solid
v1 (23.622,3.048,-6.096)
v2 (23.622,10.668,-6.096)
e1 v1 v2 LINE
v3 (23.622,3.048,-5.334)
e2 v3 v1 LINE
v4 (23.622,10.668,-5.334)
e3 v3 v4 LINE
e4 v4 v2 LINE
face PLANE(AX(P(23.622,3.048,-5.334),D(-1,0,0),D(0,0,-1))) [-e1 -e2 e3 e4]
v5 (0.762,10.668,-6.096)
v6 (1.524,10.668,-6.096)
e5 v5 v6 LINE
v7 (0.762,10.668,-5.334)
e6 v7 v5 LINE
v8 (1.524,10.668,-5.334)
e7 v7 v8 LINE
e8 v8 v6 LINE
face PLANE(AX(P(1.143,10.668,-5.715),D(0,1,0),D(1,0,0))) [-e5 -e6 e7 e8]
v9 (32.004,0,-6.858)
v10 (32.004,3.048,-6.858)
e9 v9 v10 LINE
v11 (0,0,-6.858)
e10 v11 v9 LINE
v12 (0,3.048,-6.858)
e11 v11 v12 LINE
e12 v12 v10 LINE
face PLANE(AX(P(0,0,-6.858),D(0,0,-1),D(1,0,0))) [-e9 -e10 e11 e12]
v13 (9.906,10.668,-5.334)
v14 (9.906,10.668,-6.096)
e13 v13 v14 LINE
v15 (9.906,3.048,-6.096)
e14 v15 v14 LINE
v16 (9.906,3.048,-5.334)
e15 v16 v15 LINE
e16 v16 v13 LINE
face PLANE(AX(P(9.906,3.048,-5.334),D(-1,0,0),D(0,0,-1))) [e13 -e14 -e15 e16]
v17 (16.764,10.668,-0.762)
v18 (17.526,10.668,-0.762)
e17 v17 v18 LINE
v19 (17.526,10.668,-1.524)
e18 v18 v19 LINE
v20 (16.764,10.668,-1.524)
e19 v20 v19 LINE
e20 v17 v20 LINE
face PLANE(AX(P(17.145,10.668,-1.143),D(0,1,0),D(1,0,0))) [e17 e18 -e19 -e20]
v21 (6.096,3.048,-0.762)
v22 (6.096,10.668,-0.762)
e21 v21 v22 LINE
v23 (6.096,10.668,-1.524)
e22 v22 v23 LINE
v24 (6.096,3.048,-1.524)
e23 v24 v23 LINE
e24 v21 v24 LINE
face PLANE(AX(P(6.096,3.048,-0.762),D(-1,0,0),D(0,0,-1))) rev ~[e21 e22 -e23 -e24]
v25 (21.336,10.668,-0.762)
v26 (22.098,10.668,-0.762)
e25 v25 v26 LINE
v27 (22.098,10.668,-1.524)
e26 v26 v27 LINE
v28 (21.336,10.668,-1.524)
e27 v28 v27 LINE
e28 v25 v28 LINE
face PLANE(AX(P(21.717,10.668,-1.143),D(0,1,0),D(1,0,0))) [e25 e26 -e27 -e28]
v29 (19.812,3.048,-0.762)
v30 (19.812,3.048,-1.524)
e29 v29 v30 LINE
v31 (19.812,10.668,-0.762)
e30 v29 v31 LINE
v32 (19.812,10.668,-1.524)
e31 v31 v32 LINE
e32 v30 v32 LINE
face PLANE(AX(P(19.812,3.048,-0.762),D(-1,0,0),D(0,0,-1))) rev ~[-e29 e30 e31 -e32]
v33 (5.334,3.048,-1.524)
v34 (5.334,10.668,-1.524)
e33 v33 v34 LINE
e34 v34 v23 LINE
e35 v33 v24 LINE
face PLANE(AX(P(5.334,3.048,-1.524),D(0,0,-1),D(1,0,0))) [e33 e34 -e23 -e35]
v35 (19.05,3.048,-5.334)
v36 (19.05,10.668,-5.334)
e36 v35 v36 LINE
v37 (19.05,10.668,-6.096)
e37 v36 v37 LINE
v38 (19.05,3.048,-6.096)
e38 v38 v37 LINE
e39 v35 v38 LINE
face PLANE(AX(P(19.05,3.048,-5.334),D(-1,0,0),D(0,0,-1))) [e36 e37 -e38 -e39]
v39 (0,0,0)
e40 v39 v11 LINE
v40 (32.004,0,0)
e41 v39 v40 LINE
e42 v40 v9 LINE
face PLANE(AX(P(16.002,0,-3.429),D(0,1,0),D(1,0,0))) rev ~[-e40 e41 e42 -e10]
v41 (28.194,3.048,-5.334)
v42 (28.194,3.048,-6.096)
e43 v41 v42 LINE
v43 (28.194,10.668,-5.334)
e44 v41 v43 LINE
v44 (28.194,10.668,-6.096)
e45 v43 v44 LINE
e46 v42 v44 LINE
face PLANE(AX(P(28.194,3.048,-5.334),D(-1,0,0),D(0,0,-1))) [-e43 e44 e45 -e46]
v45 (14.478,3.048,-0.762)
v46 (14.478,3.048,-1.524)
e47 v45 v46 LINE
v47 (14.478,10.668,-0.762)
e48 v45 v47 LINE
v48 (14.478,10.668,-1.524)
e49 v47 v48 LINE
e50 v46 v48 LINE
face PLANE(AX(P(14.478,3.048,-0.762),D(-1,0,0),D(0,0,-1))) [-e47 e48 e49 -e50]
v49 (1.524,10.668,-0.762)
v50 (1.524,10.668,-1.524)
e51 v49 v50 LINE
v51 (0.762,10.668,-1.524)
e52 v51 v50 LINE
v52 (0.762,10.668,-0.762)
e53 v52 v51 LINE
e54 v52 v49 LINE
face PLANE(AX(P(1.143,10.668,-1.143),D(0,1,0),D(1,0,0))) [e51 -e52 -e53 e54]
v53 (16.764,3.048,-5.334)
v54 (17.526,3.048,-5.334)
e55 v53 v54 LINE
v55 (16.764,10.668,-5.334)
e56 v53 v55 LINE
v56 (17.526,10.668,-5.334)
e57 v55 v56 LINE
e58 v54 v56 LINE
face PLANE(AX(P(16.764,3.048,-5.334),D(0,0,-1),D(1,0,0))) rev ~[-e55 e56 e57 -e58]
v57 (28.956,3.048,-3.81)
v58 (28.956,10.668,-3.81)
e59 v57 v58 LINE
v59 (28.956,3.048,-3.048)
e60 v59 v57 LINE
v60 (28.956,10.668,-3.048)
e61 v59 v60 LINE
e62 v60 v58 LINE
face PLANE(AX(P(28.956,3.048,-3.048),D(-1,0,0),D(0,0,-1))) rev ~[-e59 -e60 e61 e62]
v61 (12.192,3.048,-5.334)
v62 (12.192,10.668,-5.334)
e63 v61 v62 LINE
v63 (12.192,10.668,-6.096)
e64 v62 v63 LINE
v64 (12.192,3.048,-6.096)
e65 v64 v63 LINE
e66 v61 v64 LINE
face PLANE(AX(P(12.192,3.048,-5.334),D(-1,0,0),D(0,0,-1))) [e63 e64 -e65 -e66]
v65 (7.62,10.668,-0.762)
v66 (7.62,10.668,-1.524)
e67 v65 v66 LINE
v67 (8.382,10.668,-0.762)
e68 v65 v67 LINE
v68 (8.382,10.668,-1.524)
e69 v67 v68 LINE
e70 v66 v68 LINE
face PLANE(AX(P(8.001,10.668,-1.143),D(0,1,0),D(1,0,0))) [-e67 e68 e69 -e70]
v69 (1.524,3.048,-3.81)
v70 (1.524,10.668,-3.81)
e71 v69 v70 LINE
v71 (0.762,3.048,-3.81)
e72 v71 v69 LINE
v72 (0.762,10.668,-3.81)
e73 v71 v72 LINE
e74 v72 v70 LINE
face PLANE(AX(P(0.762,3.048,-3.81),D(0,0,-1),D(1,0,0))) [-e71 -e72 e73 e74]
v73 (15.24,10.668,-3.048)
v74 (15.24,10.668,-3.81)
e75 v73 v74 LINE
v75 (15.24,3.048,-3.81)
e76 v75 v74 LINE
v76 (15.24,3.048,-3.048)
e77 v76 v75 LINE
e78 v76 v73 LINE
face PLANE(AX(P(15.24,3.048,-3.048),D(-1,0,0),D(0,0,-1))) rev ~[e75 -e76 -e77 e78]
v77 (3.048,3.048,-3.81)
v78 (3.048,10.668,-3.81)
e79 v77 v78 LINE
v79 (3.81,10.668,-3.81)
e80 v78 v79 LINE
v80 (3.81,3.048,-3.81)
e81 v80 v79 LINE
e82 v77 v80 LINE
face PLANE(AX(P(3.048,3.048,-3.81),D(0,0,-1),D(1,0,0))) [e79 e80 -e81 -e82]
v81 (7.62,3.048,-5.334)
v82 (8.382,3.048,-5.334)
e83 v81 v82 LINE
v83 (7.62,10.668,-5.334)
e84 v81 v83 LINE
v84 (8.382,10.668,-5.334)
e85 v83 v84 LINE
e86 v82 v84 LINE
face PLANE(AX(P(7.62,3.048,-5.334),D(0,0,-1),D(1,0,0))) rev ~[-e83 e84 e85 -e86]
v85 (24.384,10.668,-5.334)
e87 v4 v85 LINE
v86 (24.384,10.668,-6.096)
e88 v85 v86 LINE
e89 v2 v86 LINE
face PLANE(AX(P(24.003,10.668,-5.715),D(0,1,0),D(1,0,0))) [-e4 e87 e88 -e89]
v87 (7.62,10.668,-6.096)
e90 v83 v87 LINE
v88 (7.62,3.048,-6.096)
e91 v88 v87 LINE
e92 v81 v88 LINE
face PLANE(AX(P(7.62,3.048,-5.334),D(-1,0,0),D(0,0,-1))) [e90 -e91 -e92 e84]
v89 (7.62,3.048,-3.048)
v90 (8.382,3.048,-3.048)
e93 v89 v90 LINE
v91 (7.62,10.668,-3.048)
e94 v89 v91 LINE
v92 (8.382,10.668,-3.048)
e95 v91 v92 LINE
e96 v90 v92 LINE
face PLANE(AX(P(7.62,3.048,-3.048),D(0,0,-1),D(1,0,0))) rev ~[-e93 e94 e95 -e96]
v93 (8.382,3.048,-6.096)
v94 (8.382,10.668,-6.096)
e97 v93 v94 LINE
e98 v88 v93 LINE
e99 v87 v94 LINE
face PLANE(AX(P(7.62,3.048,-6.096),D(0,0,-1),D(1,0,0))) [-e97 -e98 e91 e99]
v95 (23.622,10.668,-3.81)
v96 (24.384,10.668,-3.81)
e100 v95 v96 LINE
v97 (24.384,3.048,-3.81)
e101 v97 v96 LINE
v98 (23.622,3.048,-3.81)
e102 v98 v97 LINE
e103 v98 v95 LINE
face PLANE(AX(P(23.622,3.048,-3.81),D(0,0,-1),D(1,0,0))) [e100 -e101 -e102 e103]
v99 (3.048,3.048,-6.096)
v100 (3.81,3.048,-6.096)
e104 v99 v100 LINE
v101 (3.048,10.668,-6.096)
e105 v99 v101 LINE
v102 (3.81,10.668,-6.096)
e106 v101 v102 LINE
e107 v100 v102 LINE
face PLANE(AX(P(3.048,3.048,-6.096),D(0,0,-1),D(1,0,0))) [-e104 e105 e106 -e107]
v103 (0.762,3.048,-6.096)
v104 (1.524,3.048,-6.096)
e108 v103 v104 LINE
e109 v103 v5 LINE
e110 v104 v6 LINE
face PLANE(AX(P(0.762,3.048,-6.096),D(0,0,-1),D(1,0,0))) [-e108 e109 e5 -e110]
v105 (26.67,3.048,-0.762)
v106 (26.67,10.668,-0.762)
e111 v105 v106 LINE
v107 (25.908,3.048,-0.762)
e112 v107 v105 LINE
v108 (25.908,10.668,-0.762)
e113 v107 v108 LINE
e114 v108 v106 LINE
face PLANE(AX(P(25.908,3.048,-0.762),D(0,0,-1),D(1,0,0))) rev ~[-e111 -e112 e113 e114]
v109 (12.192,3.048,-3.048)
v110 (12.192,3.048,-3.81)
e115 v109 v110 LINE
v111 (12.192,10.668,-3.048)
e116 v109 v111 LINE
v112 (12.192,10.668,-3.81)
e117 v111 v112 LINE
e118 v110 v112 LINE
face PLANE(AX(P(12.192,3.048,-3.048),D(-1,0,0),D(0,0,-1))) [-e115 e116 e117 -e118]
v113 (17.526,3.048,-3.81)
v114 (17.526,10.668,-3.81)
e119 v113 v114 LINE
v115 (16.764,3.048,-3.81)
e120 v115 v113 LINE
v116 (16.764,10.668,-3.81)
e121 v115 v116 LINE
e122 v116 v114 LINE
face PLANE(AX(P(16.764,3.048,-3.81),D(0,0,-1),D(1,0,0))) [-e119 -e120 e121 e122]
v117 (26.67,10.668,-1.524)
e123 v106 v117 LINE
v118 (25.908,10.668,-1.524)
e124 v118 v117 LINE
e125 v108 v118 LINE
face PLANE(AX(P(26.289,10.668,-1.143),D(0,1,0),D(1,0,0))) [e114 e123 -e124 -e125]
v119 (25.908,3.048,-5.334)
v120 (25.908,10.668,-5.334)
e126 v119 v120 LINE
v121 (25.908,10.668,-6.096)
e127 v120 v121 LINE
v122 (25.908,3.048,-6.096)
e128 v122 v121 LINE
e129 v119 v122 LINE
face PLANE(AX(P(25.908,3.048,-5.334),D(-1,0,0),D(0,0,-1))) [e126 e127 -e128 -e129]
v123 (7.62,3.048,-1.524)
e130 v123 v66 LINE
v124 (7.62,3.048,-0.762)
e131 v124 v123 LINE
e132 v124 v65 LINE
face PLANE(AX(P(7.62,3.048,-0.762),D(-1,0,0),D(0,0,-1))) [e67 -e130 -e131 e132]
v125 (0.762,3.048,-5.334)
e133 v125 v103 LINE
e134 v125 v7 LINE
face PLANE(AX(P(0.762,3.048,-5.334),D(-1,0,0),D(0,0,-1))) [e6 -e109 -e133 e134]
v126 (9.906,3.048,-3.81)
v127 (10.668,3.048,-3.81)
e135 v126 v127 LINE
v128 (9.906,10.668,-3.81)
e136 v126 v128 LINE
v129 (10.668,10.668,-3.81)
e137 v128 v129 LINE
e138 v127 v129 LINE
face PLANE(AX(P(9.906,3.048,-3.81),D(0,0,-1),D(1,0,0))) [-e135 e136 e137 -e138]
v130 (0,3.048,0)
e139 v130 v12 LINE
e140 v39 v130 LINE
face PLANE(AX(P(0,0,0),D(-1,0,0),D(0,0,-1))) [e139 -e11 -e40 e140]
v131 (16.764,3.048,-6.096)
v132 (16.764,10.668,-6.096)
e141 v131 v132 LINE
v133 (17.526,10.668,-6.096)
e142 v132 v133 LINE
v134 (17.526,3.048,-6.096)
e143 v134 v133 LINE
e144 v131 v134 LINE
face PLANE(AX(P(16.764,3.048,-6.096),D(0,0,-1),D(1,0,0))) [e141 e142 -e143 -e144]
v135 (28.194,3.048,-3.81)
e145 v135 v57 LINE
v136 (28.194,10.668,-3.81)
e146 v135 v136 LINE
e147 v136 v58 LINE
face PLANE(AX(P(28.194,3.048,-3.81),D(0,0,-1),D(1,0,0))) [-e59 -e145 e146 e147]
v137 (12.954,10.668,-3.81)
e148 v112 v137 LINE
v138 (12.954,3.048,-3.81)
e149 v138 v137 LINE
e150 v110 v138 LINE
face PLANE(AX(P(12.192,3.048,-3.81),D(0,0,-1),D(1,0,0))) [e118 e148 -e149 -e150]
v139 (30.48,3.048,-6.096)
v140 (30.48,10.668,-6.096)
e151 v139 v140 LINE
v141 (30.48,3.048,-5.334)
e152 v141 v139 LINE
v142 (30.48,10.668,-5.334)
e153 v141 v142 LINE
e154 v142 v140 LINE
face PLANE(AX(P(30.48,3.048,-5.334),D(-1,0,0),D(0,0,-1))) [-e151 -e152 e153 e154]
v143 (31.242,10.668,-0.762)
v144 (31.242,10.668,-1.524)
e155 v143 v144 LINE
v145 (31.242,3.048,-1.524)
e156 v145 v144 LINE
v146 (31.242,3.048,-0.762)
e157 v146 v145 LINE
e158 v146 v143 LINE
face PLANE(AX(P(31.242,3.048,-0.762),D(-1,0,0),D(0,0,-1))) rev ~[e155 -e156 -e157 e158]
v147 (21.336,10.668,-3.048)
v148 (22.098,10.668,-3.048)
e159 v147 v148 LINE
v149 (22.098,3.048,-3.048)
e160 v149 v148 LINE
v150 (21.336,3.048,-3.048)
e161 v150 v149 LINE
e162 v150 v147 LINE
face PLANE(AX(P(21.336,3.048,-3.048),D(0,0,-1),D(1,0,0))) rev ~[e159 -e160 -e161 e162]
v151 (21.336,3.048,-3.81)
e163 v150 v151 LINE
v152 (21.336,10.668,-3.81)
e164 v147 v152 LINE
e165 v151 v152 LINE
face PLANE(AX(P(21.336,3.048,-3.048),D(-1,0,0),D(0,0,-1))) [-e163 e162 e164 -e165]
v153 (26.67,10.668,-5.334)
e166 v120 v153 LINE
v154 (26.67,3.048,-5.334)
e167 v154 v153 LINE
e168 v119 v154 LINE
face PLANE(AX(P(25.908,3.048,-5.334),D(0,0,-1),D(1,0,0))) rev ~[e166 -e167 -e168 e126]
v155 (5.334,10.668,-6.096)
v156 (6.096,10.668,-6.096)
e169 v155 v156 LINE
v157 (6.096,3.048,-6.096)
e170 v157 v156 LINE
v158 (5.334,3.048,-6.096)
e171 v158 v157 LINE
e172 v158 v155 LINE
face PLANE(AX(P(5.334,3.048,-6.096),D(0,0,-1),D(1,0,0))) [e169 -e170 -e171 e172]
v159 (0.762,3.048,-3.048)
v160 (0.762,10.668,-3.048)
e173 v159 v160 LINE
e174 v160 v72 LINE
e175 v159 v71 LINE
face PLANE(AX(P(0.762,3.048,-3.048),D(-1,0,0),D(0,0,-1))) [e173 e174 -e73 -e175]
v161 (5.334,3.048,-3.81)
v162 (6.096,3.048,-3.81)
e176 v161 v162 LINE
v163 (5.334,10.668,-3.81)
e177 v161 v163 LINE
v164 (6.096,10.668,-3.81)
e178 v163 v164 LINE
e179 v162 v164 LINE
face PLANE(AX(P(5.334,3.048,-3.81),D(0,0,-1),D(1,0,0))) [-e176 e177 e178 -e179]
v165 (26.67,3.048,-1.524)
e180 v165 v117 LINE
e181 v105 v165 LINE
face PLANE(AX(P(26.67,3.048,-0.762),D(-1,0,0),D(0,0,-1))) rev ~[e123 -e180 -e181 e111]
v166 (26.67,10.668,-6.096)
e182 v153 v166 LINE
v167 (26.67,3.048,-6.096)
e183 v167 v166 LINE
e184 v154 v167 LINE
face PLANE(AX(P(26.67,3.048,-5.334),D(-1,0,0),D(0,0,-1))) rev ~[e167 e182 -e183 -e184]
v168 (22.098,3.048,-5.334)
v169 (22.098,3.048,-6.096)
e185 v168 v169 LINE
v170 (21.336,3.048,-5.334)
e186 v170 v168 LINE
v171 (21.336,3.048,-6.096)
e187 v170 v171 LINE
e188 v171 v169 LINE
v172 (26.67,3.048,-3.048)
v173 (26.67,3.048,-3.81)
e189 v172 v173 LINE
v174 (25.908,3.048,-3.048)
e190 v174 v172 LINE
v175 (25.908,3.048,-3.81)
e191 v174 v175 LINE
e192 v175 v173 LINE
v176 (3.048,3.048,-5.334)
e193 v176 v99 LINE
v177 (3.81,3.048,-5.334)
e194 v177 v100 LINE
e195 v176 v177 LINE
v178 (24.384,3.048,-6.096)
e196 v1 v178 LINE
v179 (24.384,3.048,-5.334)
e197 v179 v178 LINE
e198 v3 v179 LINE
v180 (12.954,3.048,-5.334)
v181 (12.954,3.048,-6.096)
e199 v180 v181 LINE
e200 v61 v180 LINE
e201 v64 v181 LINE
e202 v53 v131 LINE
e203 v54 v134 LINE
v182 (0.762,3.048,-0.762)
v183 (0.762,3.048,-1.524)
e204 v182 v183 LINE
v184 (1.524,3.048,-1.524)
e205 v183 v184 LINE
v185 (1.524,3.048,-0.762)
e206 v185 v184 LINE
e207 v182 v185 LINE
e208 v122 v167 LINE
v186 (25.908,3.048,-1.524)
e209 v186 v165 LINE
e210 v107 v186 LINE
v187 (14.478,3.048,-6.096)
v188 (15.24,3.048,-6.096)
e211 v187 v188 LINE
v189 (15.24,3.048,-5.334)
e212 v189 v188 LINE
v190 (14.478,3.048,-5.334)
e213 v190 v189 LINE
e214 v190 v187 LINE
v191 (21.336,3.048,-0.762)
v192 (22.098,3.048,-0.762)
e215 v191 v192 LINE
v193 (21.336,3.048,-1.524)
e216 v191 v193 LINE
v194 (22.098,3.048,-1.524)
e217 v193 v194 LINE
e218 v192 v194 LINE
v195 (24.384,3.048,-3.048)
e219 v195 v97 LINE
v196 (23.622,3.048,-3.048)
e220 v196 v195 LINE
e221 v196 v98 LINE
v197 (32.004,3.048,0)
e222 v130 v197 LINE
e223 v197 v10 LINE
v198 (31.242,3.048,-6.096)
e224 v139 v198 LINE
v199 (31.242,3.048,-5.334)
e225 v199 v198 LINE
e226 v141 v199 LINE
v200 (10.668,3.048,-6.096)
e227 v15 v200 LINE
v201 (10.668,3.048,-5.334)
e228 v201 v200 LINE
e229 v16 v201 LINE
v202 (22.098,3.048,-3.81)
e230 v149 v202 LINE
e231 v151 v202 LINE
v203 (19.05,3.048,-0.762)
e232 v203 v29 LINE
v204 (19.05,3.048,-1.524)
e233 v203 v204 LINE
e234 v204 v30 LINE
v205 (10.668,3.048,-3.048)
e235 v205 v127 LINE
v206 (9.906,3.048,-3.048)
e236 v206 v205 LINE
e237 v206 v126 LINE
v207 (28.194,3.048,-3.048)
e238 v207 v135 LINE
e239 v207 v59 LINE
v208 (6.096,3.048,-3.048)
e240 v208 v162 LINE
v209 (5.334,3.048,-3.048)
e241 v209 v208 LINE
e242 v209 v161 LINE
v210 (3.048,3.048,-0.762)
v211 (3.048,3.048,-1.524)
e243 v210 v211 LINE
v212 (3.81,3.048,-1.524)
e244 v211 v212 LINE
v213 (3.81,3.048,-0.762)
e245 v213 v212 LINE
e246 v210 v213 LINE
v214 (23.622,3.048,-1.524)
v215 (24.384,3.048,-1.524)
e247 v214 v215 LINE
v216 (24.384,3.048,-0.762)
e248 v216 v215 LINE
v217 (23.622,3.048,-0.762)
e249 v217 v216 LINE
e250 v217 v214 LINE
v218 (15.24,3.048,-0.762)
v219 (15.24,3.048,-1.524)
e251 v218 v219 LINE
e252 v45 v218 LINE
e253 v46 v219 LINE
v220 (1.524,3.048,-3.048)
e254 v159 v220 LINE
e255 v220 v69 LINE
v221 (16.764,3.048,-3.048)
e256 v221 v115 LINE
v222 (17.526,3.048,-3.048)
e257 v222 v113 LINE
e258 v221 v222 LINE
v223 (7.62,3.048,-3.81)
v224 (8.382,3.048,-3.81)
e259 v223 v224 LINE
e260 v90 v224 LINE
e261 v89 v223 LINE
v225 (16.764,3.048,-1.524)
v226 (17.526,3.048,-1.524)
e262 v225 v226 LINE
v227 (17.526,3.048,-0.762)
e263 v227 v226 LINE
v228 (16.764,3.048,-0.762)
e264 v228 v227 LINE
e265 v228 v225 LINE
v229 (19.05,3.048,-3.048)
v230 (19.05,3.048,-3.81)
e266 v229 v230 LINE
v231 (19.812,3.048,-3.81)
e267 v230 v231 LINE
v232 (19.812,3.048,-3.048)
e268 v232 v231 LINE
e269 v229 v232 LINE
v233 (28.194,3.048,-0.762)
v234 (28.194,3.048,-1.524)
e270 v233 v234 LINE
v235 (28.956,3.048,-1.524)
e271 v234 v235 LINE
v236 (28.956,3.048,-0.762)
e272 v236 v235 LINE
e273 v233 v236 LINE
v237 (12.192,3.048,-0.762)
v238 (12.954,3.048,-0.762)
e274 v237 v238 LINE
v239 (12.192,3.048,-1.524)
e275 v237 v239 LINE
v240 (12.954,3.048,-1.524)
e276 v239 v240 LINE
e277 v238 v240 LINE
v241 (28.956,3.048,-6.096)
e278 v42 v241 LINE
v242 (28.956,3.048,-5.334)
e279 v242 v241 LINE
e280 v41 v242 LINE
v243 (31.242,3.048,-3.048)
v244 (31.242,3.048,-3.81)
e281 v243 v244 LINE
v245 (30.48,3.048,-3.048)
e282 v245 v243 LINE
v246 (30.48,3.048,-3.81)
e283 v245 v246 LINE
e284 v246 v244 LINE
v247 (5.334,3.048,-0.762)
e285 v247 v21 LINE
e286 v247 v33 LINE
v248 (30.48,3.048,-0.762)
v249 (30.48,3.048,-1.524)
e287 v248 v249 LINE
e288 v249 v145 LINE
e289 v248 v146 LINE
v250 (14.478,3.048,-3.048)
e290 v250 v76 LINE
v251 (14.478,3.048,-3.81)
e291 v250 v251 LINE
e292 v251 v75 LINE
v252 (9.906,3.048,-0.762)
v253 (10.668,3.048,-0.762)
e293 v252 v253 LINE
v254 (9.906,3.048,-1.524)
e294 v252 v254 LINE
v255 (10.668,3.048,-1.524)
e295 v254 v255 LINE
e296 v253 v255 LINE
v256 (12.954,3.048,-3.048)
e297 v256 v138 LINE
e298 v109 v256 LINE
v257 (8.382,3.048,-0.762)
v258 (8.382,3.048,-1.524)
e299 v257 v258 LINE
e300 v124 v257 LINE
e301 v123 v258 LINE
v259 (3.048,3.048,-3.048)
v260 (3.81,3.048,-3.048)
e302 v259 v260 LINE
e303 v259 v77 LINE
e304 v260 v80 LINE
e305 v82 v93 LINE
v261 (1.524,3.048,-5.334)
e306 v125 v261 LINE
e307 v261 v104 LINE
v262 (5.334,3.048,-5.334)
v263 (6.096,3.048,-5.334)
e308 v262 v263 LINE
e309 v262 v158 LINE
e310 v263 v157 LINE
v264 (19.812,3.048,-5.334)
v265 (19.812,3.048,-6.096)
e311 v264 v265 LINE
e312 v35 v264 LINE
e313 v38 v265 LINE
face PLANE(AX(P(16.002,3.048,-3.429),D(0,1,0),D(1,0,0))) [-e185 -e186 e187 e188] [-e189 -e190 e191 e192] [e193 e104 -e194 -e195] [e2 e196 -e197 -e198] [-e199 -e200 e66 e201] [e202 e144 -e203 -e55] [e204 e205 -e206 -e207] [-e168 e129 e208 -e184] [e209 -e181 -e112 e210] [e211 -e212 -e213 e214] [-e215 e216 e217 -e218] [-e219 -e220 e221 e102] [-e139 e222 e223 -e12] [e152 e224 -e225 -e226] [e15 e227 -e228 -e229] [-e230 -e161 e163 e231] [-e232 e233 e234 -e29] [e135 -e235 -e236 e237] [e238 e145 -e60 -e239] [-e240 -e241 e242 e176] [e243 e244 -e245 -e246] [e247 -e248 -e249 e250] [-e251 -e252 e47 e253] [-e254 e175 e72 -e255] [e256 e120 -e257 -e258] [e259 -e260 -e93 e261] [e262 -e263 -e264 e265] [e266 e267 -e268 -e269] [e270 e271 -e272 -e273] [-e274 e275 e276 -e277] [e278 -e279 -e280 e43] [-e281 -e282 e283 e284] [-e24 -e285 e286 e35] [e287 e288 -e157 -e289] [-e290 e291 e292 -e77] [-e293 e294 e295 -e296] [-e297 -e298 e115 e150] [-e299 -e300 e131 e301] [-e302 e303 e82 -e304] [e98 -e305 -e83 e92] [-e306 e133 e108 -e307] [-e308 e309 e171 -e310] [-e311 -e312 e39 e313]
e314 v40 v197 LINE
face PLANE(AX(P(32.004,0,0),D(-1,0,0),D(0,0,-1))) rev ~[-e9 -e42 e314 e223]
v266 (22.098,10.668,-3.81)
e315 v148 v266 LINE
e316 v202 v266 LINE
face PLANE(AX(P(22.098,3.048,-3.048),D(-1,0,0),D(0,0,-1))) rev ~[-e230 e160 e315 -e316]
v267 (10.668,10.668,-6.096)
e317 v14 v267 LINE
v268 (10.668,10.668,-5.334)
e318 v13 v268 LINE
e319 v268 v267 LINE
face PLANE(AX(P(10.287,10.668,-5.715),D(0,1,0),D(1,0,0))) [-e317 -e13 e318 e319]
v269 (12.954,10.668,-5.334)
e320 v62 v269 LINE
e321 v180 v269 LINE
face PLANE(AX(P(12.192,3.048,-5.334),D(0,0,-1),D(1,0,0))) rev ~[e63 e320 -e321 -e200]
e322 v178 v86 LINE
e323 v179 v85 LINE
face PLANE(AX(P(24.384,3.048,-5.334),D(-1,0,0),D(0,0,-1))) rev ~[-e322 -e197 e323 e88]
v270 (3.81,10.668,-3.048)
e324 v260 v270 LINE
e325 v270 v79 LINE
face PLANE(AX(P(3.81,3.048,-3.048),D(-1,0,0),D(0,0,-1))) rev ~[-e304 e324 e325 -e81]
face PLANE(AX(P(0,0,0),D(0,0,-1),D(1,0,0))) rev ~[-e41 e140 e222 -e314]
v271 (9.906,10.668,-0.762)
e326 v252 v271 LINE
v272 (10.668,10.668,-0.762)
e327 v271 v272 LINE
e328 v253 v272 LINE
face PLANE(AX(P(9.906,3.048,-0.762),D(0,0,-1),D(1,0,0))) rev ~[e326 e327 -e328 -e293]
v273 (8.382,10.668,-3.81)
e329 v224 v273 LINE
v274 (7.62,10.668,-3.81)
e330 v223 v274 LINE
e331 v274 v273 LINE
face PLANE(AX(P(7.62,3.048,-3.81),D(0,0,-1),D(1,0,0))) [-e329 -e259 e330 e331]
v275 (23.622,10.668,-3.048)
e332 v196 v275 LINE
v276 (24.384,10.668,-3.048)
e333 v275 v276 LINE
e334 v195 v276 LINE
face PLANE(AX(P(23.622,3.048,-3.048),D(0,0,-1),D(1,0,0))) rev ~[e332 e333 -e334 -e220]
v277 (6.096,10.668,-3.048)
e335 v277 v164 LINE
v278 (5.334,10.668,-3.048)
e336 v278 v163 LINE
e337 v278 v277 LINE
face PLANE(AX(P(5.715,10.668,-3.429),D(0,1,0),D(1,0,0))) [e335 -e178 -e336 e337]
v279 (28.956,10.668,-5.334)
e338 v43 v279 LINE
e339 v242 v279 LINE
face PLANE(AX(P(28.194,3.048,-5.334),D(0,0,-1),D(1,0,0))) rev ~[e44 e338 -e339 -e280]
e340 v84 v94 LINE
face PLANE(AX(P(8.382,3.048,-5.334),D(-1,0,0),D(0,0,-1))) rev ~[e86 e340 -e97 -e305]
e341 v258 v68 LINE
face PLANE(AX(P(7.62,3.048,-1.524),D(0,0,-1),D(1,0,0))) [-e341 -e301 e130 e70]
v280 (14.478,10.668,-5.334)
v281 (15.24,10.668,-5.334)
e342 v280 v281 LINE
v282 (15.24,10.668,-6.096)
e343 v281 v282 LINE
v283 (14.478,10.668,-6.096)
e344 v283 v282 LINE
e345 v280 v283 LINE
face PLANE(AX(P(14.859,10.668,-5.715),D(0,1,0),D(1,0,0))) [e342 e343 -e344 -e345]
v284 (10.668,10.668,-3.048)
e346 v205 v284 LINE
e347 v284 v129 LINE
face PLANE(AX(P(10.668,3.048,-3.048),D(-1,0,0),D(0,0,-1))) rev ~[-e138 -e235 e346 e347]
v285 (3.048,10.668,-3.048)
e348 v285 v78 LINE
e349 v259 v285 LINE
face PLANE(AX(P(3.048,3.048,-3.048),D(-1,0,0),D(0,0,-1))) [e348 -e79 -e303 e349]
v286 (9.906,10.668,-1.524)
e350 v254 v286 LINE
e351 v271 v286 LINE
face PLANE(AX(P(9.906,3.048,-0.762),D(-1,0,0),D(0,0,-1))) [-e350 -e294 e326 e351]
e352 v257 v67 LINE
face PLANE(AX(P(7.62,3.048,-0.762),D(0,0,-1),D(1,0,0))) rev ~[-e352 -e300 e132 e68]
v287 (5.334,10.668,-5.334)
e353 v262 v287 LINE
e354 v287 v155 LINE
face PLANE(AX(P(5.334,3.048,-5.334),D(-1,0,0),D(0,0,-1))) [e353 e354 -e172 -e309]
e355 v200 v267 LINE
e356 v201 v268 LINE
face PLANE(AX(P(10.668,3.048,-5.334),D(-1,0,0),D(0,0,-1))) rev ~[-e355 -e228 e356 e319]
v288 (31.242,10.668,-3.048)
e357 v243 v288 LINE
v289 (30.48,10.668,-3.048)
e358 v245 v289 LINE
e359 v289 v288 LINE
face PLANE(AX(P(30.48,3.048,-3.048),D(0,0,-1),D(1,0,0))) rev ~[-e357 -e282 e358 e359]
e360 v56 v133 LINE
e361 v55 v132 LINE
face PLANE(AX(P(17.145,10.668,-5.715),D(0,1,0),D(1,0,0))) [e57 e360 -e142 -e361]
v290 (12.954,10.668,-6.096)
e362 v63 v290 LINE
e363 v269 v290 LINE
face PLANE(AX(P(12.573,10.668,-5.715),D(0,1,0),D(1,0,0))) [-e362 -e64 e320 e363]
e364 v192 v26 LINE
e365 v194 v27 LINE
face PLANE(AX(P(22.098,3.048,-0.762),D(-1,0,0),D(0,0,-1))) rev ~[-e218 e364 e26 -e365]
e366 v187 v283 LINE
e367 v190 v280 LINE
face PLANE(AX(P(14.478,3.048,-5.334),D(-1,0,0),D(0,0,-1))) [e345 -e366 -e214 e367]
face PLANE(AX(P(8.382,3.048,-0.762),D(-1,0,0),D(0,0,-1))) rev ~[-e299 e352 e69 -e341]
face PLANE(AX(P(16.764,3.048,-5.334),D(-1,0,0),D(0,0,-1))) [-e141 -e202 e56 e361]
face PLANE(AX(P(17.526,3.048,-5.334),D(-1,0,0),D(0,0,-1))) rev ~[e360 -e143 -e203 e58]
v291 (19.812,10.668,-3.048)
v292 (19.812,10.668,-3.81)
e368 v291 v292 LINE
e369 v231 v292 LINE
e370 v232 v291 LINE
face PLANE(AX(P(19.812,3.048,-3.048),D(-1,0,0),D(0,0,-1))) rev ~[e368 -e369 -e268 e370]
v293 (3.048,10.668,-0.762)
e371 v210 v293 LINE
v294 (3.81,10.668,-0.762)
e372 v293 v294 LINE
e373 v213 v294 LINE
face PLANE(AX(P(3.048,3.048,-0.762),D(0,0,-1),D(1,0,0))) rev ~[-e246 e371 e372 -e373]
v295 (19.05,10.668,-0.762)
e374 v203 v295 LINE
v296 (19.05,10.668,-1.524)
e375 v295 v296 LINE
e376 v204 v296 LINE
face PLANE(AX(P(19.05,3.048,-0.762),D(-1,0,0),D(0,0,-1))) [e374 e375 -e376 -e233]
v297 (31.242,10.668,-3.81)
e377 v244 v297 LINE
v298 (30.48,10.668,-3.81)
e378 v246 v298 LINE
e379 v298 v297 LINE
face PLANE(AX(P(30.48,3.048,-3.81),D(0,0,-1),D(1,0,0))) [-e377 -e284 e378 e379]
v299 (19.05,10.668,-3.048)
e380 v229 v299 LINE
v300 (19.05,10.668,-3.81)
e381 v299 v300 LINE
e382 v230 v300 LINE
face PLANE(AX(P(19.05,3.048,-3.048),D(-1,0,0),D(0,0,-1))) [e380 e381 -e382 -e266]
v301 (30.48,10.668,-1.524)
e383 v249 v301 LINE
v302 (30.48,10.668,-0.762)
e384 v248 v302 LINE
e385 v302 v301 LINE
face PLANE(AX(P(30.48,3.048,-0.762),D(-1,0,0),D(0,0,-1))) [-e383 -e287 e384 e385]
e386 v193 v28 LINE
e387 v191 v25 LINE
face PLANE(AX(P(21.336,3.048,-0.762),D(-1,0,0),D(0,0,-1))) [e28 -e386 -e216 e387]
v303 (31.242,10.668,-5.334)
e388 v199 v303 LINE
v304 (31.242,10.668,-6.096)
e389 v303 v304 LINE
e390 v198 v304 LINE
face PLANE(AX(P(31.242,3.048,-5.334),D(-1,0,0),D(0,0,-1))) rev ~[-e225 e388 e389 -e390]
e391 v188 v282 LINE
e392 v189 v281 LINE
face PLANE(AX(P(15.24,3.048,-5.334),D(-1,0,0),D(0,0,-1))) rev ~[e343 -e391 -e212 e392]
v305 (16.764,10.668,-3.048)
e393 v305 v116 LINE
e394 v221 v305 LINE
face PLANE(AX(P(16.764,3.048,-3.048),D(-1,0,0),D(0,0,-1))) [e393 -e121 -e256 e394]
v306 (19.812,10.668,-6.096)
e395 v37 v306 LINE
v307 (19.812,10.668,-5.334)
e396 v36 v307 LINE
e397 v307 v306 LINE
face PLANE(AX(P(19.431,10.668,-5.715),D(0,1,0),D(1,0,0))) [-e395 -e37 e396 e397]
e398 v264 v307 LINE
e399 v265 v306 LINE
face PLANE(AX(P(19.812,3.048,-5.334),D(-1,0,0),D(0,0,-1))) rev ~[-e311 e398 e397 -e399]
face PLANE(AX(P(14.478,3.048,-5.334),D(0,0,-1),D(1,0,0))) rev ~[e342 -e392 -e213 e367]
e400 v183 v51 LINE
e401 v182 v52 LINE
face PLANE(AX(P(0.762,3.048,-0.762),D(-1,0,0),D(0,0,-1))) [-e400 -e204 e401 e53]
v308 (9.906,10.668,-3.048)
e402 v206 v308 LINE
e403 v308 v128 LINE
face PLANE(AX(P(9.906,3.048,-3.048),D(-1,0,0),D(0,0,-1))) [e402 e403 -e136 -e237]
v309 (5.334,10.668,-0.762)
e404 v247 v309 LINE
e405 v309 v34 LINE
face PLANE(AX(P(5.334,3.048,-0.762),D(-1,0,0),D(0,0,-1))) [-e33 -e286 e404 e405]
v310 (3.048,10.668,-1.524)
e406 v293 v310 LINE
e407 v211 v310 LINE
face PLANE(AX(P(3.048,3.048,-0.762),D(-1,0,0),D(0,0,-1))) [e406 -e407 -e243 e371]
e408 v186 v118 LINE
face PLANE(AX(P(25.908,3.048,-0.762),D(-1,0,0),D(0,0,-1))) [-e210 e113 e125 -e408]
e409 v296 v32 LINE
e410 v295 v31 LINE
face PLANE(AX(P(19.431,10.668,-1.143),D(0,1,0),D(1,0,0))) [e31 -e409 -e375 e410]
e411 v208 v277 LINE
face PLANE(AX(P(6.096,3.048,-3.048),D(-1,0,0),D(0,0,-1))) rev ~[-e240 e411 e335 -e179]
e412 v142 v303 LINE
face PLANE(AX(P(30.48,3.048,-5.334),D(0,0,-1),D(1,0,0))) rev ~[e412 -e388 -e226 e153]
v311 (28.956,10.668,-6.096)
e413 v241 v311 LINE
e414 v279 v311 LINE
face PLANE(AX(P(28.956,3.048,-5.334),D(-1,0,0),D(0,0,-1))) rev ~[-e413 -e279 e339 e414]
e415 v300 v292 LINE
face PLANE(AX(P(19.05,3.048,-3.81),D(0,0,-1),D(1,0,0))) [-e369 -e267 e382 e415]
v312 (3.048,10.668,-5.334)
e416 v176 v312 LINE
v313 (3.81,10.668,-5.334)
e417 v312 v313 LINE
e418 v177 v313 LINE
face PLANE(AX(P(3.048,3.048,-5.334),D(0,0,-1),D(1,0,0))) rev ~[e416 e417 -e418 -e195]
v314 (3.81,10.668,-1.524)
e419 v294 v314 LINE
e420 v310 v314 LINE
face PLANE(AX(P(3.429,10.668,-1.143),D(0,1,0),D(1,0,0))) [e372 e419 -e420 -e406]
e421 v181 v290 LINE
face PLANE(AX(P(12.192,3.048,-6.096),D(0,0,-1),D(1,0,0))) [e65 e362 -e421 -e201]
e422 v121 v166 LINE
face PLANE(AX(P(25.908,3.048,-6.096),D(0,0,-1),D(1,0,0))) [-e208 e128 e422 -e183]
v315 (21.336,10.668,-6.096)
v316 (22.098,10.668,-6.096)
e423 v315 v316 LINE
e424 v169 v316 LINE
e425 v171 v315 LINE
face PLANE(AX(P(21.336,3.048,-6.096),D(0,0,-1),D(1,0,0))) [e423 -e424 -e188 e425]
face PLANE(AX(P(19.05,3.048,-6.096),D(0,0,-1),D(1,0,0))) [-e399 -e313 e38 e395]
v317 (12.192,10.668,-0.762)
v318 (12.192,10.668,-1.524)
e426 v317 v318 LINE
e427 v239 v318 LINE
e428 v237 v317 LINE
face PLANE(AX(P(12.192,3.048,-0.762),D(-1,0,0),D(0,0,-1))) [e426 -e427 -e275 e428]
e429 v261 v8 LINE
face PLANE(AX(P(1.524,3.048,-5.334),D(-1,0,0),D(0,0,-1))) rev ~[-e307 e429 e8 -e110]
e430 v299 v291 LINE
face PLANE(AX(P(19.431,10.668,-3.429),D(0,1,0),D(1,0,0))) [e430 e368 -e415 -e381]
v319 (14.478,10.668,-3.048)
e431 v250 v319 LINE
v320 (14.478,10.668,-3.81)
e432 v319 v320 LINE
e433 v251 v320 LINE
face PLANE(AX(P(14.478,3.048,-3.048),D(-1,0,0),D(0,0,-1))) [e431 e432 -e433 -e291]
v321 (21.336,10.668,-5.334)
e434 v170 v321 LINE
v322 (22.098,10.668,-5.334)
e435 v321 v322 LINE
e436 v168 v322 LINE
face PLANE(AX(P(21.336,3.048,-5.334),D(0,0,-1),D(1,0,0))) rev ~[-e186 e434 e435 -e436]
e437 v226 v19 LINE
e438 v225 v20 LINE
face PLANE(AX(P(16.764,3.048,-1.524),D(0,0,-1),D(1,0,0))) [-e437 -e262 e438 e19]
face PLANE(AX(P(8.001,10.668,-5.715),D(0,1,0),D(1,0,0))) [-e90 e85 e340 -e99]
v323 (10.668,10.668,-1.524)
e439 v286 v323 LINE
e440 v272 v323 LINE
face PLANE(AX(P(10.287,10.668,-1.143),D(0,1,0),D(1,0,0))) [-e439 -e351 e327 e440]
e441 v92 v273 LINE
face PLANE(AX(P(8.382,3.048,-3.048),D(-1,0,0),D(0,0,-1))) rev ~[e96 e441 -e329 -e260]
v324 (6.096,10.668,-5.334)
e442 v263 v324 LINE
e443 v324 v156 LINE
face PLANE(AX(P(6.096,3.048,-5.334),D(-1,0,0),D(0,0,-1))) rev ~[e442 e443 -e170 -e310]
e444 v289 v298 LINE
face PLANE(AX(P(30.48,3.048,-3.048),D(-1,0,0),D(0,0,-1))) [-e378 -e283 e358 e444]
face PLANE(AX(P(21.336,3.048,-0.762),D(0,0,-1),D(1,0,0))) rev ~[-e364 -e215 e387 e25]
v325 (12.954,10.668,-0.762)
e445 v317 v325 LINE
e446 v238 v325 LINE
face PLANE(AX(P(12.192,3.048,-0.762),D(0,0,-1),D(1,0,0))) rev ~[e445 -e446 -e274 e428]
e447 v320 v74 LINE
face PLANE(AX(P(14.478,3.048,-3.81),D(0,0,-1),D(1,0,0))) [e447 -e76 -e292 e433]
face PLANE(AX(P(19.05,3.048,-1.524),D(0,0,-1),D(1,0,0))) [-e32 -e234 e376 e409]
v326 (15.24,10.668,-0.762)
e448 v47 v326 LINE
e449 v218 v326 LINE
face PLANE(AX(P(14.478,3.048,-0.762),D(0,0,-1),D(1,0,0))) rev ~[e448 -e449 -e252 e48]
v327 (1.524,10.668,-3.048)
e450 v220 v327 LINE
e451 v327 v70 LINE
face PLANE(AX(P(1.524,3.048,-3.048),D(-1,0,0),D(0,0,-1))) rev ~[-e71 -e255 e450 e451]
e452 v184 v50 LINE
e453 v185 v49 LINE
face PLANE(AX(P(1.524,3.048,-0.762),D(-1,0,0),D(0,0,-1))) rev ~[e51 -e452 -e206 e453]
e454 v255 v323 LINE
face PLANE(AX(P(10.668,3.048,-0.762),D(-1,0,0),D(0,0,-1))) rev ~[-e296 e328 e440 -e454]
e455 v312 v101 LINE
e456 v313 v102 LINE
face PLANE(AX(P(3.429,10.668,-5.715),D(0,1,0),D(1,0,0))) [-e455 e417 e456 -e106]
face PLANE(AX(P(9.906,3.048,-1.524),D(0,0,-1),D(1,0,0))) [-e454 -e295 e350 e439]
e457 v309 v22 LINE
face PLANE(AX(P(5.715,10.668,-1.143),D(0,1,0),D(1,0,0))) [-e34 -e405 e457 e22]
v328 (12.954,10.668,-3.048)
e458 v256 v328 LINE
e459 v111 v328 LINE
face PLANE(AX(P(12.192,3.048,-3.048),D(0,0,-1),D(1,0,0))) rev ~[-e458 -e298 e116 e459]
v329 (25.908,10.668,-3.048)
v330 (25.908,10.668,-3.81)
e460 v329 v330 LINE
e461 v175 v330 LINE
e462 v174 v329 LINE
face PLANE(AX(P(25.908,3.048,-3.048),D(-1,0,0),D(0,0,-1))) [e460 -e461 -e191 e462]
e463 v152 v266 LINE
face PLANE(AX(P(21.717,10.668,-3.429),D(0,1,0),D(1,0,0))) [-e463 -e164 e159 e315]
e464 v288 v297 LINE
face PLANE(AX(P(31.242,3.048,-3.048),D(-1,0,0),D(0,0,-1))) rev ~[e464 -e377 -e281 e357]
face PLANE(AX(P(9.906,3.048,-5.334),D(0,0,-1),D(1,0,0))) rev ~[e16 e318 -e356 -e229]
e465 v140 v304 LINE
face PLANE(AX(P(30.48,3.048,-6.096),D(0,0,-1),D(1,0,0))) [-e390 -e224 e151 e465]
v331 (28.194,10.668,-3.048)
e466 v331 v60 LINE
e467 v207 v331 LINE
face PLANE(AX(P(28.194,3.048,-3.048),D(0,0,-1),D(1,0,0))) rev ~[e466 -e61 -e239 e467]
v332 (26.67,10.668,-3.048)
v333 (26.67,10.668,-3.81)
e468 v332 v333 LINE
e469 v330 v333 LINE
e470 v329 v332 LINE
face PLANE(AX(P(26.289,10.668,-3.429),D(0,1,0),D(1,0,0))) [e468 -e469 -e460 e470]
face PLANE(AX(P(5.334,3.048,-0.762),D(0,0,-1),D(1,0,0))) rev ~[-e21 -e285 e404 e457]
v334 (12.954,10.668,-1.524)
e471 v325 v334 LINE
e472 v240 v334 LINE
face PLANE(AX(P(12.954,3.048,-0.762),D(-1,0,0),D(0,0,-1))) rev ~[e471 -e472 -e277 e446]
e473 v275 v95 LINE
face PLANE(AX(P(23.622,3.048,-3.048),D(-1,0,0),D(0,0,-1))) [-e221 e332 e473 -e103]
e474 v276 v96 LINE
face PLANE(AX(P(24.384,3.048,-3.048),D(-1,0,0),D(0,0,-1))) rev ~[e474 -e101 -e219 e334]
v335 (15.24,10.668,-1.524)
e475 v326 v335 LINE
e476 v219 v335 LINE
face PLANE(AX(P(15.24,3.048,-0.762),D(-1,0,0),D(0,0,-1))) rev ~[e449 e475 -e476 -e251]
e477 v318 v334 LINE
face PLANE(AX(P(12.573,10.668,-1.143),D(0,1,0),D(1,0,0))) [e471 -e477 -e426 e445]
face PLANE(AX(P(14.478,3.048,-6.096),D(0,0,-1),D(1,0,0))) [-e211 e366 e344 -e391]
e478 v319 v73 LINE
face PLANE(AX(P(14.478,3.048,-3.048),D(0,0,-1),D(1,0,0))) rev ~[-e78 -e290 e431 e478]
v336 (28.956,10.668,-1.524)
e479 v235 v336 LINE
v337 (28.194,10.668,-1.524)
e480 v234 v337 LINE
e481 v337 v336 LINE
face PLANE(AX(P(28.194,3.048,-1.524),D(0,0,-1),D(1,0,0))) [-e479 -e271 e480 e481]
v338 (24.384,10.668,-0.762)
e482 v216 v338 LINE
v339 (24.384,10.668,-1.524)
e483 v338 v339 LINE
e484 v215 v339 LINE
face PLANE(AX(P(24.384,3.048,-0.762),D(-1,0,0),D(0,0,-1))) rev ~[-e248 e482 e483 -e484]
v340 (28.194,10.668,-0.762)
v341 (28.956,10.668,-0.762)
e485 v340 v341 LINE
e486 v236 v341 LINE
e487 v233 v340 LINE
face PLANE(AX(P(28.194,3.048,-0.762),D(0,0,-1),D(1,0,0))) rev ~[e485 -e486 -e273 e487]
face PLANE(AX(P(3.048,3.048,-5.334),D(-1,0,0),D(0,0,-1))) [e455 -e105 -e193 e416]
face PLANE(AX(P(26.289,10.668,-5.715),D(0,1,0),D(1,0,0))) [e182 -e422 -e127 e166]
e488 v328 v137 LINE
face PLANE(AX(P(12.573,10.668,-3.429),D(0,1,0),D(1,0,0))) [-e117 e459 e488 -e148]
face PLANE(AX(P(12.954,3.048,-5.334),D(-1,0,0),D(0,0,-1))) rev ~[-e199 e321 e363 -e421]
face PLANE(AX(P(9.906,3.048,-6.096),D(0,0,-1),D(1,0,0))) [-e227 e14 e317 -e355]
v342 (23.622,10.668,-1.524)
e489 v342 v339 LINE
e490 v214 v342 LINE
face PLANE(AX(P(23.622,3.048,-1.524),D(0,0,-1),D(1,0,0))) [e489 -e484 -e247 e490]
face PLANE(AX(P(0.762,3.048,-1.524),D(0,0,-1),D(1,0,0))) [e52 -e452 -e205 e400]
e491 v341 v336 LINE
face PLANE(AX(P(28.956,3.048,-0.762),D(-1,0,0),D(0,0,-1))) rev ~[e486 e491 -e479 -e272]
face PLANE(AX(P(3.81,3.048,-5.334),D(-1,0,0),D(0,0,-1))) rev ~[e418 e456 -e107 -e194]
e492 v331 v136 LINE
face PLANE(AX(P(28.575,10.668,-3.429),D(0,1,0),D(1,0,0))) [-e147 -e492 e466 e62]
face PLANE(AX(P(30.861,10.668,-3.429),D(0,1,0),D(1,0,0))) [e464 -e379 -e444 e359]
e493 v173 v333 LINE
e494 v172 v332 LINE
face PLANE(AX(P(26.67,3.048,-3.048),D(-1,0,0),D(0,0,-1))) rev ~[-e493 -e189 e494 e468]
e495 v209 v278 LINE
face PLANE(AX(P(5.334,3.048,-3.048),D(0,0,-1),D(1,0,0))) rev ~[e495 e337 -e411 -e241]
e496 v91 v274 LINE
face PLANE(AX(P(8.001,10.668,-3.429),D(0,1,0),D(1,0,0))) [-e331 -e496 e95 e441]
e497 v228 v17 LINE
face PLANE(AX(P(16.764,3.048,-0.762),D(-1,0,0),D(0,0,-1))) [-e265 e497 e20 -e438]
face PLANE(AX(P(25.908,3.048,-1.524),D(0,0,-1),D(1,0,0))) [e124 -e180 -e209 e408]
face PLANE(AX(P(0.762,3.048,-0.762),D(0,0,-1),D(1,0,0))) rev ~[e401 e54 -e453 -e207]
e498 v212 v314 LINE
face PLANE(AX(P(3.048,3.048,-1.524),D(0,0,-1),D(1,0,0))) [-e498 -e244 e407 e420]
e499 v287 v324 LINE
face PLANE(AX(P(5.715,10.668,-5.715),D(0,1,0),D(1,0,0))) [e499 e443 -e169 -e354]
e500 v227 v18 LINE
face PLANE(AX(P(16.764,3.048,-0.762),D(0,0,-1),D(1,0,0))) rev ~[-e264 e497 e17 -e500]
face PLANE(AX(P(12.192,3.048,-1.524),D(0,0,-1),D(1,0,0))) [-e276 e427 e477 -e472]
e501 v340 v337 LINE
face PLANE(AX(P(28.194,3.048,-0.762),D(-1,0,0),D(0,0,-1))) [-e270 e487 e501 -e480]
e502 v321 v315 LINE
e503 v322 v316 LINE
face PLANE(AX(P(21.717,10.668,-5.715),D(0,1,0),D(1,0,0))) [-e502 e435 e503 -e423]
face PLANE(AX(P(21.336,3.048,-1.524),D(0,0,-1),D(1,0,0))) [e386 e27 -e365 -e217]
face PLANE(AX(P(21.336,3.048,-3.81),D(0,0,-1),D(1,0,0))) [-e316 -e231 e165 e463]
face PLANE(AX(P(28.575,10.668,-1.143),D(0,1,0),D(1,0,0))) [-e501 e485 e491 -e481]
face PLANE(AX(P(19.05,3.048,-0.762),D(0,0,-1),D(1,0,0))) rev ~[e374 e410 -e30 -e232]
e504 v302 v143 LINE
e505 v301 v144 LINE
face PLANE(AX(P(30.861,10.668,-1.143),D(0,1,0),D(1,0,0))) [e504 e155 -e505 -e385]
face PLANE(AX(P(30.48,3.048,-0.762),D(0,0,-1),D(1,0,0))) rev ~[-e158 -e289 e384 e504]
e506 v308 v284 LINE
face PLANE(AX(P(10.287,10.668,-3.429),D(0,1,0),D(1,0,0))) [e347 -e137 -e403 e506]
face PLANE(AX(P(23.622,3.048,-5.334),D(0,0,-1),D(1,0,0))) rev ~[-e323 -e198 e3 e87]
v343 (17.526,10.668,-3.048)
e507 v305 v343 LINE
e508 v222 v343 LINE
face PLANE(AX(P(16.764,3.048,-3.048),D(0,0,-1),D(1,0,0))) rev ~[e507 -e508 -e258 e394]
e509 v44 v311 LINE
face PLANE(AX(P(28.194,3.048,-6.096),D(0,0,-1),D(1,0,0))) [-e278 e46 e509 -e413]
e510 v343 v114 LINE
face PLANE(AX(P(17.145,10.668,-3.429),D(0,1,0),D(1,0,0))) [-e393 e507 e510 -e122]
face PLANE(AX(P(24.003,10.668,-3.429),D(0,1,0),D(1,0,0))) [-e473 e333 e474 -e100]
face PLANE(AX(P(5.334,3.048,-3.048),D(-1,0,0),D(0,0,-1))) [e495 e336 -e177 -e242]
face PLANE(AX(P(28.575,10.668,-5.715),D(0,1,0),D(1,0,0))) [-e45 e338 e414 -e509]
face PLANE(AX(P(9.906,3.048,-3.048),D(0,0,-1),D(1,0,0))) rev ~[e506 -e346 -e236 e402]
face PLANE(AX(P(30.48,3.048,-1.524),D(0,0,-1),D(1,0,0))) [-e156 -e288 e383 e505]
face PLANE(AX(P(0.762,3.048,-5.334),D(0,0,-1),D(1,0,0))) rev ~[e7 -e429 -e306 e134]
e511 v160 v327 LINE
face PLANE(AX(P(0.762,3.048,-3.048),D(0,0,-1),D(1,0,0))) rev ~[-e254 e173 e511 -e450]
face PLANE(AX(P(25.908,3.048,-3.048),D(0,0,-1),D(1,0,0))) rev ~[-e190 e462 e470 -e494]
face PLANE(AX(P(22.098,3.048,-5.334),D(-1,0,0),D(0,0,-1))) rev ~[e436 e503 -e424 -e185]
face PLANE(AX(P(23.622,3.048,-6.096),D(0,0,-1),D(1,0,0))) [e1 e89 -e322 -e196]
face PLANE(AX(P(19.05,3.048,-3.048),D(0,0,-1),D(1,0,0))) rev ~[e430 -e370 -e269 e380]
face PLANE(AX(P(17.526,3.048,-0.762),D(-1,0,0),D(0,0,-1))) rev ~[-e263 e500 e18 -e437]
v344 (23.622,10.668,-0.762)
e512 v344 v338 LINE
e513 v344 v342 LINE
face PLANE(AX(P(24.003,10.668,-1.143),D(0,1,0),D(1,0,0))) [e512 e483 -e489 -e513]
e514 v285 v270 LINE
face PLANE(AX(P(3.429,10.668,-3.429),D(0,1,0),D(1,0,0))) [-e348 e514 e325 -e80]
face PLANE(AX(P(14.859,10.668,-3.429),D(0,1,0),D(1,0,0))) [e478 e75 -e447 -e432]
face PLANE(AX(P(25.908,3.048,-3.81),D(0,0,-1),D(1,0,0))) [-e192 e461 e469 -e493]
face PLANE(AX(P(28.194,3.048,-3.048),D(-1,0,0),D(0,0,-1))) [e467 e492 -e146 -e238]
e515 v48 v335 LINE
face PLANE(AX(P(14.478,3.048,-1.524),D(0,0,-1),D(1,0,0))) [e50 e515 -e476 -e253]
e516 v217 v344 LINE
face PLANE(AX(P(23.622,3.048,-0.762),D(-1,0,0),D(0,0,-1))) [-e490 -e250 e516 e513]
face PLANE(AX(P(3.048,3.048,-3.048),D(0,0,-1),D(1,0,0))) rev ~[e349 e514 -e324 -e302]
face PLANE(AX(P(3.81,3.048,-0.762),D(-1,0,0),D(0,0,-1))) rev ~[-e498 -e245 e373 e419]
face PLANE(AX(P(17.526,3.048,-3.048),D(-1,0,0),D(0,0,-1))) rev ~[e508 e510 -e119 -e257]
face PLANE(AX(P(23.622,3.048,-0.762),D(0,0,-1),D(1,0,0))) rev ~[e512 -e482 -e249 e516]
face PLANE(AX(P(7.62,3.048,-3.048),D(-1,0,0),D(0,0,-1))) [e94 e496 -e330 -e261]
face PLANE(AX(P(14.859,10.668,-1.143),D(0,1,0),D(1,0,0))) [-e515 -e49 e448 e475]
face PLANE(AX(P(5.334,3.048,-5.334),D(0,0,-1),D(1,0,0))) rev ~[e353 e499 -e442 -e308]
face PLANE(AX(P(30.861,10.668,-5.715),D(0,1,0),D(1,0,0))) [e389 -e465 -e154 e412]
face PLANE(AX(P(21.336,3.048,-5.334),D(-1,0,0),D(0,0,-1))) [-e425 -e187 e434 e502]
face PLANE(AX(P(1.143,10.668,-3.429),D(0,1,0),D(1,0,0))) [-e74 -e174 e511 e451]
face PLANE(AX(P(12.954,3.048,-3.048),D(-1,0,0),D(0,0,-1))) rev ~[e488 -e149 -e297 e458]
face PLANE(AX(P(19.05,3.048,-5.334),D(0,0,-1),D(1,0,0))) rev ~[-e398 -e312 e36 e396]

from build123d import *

# Parameters (mm, degrees)
SKETCH1_W      = 32.004
SKETCH1_H      = 6.858
EXTRUDE1_DEPTH = 3.048
SKETCH2_W      = 0.762
SKETCH2_H      = 0.762
EXTRUDE2_DEPTH = 7.62


with BuildPart() as part:
    # Sketch1 → Extrude1 (new body)
    with BuildSketch(Plane(origin=(0, 0, 0), x_dir=(1, 0, 0), z_dir=(0, 1, 0))):
        with Locations((16.002, 3.429)):
            Rectangle(SKETCH1_W, SKETCH1_H)
    extrude(amount=EXTRUDE1_DEPTH)

    # Sketch2 → Extrude2 (add)
    with BuildSketch(Plane(origin=(0, 3.048, 0), x_dir=(1, 0, 0), z_dir=(0, 1, 0))):
        with Locations((3.429, 5.715)):
            Rectangle(SKETCH2_W, SKETCH2_H)
        with Locations((1.143, 5.715)):
            Rectangle(SKETCH2_W, SKETCH2_H)
        with Locations((5.715, 5.715)):
            Rectangle(SKETCH2_W, SKETCH2_H)
        with Locations((8.001, 5.715)):
            Rectangle(SKETCH2_W, SKETCH2_H)
        with Locations((10.287, 5.715)):
            Rectangle(SKETCH2_W, SKETCH2_H)
        with Locations((12.573, 5.715)):
            Rectangle(SKETCH2_W, SKETCH2_H)
        with Locations((14.859, 5.715)):
            Rectangle(SKETCH2_W, SKETCH2_H)
        with Locations((17.145, 5.715)):
            Rectangle(SKETCH2_W, SKETCH2_H)
        with Locations((19.431, 5.715)):
            Rectangle(SKETCH2_W, SKETCH2_H)
        with Locations((21.717, 5.715)):
            Rectangle(SKETCH2_W, SKETCH2_H)
        with Locations((24.003, 5.715)):
            Rectangle(SKETCH2_W, SKETCH2_H)
        with Locations((26.289, 5.715)):
            Rectangle(SKETCH2_W, SKETCH2_H)
        with Locations((28.575, 5.715)):
            Rectangle(SKETCH2_W, SKETCH2_H)
        with Locations((30.861, 5.715)):
            Rectangle(SKETCH2_W, SKETCH2_H)
        with Locations((1.143, 3.429)):
            Rectangle(SKETCH2_W, SKETCH2_H)
        with Locations((3.429, 3.429)):
            Rectangle(SKETCH2_W, SKETCH2_H)
        with Locations((5.715, 3.429)):
            Rectangle(SKETCH2_W, SKETCH2_H)
        with Locations((8.001, 3.429)):
            Rectangle(SKETCH2_W, SKETCH2_H)
        with Locations((10.287, 3.429)):
            Rectangle(SKETCH2_W, SKETCH2_H)
        with Locations((12.573, 3.429)):
            Rectangle(SKETCH2_W, SKETCH2_H)
        with Locations((14.859, 3.429)):
            Rectangle(SKETCH2_W, SKETCH2_H)
        with Locations((17.145, 3.429)):
            Rectangle(SKETCH2_W, SKETCH2_H)
        with Locations((19.431, 3.429)):
            Rectangle(SKETCH2_W, SKETCH2_H)
        with Locations((21.717, 3.429)):
            Rectangle(SKETCH2_W, SKETCH2_H)
        with Locations((24.003, 3.429)):
            Rectangle(SKETCH2_W, SKETCH2_H)
        with Locations((26.289, 3.429)):
            Rectangle(SKETCH2_W, SKETCH2_H)
        with Locations((28.575, 3.429)):
            Rectangle(SKETCH2_W, SKETCH2_H)
        with Locations((30.861, 3.429)):
            Rectangle(SKETCH2_W, SKETCH2_H)
        with Locations((1.143, 1.143)):
            Rectangle(SKETCH2_W, SKETCH2_H)
        with Locations((3.429, 1.143)):
            Rectangle(SKETCH2_W, SKETCH2_H)
        with Locations((5.715, 1.143)):
            Rectangle(SKETCH2_W, SKETCH2_H)
        with Locations((8.001, 1.143)):
            Rectangle(SKETCH2_W, SKETCH2_H)
        with Locations((10.287, 1.143)):
            Rectangle(SKETCH2_W, SKETCH2_H)
        with Locations((12.573, 1.143)):
            Rectangle(SKETCH2_W, SKETCH2_H)
        with Locations((14.859, 1.143)):
            Rectangle(SKETCH2_W, SKETCH2_H)
        with Locations((17.145, 1.143)):
            Rectangle(SKETCH2_W, SKETCH2_H)
        with Locations((19.431, 1.143)):
            Rectangle(SKETCH2_W, SKETCH2_H)
        with Locations((21.717, 1.143)):
            Rectangle(SKETCH2_W, SKETCH2_H)
        with Locations((24.003, 1.143)):
            Rectangle(SKETCH2_W, SKETCH2_H)
        with Locations((26.289, 1.143)):
            Rectangle(SKETCH2_W, SKETCH2_H)
        with Locations((28.575, 1.143)):
            Rectangle(SKETCH2_W, SKETCH2_H)
        with Locations((30.861, 1.143)):
            Rectangle(SKETCH2_W, SKETCH2_H)
    extrude(amount=EXTRUDE2_DEPTH)


solid = part.part
